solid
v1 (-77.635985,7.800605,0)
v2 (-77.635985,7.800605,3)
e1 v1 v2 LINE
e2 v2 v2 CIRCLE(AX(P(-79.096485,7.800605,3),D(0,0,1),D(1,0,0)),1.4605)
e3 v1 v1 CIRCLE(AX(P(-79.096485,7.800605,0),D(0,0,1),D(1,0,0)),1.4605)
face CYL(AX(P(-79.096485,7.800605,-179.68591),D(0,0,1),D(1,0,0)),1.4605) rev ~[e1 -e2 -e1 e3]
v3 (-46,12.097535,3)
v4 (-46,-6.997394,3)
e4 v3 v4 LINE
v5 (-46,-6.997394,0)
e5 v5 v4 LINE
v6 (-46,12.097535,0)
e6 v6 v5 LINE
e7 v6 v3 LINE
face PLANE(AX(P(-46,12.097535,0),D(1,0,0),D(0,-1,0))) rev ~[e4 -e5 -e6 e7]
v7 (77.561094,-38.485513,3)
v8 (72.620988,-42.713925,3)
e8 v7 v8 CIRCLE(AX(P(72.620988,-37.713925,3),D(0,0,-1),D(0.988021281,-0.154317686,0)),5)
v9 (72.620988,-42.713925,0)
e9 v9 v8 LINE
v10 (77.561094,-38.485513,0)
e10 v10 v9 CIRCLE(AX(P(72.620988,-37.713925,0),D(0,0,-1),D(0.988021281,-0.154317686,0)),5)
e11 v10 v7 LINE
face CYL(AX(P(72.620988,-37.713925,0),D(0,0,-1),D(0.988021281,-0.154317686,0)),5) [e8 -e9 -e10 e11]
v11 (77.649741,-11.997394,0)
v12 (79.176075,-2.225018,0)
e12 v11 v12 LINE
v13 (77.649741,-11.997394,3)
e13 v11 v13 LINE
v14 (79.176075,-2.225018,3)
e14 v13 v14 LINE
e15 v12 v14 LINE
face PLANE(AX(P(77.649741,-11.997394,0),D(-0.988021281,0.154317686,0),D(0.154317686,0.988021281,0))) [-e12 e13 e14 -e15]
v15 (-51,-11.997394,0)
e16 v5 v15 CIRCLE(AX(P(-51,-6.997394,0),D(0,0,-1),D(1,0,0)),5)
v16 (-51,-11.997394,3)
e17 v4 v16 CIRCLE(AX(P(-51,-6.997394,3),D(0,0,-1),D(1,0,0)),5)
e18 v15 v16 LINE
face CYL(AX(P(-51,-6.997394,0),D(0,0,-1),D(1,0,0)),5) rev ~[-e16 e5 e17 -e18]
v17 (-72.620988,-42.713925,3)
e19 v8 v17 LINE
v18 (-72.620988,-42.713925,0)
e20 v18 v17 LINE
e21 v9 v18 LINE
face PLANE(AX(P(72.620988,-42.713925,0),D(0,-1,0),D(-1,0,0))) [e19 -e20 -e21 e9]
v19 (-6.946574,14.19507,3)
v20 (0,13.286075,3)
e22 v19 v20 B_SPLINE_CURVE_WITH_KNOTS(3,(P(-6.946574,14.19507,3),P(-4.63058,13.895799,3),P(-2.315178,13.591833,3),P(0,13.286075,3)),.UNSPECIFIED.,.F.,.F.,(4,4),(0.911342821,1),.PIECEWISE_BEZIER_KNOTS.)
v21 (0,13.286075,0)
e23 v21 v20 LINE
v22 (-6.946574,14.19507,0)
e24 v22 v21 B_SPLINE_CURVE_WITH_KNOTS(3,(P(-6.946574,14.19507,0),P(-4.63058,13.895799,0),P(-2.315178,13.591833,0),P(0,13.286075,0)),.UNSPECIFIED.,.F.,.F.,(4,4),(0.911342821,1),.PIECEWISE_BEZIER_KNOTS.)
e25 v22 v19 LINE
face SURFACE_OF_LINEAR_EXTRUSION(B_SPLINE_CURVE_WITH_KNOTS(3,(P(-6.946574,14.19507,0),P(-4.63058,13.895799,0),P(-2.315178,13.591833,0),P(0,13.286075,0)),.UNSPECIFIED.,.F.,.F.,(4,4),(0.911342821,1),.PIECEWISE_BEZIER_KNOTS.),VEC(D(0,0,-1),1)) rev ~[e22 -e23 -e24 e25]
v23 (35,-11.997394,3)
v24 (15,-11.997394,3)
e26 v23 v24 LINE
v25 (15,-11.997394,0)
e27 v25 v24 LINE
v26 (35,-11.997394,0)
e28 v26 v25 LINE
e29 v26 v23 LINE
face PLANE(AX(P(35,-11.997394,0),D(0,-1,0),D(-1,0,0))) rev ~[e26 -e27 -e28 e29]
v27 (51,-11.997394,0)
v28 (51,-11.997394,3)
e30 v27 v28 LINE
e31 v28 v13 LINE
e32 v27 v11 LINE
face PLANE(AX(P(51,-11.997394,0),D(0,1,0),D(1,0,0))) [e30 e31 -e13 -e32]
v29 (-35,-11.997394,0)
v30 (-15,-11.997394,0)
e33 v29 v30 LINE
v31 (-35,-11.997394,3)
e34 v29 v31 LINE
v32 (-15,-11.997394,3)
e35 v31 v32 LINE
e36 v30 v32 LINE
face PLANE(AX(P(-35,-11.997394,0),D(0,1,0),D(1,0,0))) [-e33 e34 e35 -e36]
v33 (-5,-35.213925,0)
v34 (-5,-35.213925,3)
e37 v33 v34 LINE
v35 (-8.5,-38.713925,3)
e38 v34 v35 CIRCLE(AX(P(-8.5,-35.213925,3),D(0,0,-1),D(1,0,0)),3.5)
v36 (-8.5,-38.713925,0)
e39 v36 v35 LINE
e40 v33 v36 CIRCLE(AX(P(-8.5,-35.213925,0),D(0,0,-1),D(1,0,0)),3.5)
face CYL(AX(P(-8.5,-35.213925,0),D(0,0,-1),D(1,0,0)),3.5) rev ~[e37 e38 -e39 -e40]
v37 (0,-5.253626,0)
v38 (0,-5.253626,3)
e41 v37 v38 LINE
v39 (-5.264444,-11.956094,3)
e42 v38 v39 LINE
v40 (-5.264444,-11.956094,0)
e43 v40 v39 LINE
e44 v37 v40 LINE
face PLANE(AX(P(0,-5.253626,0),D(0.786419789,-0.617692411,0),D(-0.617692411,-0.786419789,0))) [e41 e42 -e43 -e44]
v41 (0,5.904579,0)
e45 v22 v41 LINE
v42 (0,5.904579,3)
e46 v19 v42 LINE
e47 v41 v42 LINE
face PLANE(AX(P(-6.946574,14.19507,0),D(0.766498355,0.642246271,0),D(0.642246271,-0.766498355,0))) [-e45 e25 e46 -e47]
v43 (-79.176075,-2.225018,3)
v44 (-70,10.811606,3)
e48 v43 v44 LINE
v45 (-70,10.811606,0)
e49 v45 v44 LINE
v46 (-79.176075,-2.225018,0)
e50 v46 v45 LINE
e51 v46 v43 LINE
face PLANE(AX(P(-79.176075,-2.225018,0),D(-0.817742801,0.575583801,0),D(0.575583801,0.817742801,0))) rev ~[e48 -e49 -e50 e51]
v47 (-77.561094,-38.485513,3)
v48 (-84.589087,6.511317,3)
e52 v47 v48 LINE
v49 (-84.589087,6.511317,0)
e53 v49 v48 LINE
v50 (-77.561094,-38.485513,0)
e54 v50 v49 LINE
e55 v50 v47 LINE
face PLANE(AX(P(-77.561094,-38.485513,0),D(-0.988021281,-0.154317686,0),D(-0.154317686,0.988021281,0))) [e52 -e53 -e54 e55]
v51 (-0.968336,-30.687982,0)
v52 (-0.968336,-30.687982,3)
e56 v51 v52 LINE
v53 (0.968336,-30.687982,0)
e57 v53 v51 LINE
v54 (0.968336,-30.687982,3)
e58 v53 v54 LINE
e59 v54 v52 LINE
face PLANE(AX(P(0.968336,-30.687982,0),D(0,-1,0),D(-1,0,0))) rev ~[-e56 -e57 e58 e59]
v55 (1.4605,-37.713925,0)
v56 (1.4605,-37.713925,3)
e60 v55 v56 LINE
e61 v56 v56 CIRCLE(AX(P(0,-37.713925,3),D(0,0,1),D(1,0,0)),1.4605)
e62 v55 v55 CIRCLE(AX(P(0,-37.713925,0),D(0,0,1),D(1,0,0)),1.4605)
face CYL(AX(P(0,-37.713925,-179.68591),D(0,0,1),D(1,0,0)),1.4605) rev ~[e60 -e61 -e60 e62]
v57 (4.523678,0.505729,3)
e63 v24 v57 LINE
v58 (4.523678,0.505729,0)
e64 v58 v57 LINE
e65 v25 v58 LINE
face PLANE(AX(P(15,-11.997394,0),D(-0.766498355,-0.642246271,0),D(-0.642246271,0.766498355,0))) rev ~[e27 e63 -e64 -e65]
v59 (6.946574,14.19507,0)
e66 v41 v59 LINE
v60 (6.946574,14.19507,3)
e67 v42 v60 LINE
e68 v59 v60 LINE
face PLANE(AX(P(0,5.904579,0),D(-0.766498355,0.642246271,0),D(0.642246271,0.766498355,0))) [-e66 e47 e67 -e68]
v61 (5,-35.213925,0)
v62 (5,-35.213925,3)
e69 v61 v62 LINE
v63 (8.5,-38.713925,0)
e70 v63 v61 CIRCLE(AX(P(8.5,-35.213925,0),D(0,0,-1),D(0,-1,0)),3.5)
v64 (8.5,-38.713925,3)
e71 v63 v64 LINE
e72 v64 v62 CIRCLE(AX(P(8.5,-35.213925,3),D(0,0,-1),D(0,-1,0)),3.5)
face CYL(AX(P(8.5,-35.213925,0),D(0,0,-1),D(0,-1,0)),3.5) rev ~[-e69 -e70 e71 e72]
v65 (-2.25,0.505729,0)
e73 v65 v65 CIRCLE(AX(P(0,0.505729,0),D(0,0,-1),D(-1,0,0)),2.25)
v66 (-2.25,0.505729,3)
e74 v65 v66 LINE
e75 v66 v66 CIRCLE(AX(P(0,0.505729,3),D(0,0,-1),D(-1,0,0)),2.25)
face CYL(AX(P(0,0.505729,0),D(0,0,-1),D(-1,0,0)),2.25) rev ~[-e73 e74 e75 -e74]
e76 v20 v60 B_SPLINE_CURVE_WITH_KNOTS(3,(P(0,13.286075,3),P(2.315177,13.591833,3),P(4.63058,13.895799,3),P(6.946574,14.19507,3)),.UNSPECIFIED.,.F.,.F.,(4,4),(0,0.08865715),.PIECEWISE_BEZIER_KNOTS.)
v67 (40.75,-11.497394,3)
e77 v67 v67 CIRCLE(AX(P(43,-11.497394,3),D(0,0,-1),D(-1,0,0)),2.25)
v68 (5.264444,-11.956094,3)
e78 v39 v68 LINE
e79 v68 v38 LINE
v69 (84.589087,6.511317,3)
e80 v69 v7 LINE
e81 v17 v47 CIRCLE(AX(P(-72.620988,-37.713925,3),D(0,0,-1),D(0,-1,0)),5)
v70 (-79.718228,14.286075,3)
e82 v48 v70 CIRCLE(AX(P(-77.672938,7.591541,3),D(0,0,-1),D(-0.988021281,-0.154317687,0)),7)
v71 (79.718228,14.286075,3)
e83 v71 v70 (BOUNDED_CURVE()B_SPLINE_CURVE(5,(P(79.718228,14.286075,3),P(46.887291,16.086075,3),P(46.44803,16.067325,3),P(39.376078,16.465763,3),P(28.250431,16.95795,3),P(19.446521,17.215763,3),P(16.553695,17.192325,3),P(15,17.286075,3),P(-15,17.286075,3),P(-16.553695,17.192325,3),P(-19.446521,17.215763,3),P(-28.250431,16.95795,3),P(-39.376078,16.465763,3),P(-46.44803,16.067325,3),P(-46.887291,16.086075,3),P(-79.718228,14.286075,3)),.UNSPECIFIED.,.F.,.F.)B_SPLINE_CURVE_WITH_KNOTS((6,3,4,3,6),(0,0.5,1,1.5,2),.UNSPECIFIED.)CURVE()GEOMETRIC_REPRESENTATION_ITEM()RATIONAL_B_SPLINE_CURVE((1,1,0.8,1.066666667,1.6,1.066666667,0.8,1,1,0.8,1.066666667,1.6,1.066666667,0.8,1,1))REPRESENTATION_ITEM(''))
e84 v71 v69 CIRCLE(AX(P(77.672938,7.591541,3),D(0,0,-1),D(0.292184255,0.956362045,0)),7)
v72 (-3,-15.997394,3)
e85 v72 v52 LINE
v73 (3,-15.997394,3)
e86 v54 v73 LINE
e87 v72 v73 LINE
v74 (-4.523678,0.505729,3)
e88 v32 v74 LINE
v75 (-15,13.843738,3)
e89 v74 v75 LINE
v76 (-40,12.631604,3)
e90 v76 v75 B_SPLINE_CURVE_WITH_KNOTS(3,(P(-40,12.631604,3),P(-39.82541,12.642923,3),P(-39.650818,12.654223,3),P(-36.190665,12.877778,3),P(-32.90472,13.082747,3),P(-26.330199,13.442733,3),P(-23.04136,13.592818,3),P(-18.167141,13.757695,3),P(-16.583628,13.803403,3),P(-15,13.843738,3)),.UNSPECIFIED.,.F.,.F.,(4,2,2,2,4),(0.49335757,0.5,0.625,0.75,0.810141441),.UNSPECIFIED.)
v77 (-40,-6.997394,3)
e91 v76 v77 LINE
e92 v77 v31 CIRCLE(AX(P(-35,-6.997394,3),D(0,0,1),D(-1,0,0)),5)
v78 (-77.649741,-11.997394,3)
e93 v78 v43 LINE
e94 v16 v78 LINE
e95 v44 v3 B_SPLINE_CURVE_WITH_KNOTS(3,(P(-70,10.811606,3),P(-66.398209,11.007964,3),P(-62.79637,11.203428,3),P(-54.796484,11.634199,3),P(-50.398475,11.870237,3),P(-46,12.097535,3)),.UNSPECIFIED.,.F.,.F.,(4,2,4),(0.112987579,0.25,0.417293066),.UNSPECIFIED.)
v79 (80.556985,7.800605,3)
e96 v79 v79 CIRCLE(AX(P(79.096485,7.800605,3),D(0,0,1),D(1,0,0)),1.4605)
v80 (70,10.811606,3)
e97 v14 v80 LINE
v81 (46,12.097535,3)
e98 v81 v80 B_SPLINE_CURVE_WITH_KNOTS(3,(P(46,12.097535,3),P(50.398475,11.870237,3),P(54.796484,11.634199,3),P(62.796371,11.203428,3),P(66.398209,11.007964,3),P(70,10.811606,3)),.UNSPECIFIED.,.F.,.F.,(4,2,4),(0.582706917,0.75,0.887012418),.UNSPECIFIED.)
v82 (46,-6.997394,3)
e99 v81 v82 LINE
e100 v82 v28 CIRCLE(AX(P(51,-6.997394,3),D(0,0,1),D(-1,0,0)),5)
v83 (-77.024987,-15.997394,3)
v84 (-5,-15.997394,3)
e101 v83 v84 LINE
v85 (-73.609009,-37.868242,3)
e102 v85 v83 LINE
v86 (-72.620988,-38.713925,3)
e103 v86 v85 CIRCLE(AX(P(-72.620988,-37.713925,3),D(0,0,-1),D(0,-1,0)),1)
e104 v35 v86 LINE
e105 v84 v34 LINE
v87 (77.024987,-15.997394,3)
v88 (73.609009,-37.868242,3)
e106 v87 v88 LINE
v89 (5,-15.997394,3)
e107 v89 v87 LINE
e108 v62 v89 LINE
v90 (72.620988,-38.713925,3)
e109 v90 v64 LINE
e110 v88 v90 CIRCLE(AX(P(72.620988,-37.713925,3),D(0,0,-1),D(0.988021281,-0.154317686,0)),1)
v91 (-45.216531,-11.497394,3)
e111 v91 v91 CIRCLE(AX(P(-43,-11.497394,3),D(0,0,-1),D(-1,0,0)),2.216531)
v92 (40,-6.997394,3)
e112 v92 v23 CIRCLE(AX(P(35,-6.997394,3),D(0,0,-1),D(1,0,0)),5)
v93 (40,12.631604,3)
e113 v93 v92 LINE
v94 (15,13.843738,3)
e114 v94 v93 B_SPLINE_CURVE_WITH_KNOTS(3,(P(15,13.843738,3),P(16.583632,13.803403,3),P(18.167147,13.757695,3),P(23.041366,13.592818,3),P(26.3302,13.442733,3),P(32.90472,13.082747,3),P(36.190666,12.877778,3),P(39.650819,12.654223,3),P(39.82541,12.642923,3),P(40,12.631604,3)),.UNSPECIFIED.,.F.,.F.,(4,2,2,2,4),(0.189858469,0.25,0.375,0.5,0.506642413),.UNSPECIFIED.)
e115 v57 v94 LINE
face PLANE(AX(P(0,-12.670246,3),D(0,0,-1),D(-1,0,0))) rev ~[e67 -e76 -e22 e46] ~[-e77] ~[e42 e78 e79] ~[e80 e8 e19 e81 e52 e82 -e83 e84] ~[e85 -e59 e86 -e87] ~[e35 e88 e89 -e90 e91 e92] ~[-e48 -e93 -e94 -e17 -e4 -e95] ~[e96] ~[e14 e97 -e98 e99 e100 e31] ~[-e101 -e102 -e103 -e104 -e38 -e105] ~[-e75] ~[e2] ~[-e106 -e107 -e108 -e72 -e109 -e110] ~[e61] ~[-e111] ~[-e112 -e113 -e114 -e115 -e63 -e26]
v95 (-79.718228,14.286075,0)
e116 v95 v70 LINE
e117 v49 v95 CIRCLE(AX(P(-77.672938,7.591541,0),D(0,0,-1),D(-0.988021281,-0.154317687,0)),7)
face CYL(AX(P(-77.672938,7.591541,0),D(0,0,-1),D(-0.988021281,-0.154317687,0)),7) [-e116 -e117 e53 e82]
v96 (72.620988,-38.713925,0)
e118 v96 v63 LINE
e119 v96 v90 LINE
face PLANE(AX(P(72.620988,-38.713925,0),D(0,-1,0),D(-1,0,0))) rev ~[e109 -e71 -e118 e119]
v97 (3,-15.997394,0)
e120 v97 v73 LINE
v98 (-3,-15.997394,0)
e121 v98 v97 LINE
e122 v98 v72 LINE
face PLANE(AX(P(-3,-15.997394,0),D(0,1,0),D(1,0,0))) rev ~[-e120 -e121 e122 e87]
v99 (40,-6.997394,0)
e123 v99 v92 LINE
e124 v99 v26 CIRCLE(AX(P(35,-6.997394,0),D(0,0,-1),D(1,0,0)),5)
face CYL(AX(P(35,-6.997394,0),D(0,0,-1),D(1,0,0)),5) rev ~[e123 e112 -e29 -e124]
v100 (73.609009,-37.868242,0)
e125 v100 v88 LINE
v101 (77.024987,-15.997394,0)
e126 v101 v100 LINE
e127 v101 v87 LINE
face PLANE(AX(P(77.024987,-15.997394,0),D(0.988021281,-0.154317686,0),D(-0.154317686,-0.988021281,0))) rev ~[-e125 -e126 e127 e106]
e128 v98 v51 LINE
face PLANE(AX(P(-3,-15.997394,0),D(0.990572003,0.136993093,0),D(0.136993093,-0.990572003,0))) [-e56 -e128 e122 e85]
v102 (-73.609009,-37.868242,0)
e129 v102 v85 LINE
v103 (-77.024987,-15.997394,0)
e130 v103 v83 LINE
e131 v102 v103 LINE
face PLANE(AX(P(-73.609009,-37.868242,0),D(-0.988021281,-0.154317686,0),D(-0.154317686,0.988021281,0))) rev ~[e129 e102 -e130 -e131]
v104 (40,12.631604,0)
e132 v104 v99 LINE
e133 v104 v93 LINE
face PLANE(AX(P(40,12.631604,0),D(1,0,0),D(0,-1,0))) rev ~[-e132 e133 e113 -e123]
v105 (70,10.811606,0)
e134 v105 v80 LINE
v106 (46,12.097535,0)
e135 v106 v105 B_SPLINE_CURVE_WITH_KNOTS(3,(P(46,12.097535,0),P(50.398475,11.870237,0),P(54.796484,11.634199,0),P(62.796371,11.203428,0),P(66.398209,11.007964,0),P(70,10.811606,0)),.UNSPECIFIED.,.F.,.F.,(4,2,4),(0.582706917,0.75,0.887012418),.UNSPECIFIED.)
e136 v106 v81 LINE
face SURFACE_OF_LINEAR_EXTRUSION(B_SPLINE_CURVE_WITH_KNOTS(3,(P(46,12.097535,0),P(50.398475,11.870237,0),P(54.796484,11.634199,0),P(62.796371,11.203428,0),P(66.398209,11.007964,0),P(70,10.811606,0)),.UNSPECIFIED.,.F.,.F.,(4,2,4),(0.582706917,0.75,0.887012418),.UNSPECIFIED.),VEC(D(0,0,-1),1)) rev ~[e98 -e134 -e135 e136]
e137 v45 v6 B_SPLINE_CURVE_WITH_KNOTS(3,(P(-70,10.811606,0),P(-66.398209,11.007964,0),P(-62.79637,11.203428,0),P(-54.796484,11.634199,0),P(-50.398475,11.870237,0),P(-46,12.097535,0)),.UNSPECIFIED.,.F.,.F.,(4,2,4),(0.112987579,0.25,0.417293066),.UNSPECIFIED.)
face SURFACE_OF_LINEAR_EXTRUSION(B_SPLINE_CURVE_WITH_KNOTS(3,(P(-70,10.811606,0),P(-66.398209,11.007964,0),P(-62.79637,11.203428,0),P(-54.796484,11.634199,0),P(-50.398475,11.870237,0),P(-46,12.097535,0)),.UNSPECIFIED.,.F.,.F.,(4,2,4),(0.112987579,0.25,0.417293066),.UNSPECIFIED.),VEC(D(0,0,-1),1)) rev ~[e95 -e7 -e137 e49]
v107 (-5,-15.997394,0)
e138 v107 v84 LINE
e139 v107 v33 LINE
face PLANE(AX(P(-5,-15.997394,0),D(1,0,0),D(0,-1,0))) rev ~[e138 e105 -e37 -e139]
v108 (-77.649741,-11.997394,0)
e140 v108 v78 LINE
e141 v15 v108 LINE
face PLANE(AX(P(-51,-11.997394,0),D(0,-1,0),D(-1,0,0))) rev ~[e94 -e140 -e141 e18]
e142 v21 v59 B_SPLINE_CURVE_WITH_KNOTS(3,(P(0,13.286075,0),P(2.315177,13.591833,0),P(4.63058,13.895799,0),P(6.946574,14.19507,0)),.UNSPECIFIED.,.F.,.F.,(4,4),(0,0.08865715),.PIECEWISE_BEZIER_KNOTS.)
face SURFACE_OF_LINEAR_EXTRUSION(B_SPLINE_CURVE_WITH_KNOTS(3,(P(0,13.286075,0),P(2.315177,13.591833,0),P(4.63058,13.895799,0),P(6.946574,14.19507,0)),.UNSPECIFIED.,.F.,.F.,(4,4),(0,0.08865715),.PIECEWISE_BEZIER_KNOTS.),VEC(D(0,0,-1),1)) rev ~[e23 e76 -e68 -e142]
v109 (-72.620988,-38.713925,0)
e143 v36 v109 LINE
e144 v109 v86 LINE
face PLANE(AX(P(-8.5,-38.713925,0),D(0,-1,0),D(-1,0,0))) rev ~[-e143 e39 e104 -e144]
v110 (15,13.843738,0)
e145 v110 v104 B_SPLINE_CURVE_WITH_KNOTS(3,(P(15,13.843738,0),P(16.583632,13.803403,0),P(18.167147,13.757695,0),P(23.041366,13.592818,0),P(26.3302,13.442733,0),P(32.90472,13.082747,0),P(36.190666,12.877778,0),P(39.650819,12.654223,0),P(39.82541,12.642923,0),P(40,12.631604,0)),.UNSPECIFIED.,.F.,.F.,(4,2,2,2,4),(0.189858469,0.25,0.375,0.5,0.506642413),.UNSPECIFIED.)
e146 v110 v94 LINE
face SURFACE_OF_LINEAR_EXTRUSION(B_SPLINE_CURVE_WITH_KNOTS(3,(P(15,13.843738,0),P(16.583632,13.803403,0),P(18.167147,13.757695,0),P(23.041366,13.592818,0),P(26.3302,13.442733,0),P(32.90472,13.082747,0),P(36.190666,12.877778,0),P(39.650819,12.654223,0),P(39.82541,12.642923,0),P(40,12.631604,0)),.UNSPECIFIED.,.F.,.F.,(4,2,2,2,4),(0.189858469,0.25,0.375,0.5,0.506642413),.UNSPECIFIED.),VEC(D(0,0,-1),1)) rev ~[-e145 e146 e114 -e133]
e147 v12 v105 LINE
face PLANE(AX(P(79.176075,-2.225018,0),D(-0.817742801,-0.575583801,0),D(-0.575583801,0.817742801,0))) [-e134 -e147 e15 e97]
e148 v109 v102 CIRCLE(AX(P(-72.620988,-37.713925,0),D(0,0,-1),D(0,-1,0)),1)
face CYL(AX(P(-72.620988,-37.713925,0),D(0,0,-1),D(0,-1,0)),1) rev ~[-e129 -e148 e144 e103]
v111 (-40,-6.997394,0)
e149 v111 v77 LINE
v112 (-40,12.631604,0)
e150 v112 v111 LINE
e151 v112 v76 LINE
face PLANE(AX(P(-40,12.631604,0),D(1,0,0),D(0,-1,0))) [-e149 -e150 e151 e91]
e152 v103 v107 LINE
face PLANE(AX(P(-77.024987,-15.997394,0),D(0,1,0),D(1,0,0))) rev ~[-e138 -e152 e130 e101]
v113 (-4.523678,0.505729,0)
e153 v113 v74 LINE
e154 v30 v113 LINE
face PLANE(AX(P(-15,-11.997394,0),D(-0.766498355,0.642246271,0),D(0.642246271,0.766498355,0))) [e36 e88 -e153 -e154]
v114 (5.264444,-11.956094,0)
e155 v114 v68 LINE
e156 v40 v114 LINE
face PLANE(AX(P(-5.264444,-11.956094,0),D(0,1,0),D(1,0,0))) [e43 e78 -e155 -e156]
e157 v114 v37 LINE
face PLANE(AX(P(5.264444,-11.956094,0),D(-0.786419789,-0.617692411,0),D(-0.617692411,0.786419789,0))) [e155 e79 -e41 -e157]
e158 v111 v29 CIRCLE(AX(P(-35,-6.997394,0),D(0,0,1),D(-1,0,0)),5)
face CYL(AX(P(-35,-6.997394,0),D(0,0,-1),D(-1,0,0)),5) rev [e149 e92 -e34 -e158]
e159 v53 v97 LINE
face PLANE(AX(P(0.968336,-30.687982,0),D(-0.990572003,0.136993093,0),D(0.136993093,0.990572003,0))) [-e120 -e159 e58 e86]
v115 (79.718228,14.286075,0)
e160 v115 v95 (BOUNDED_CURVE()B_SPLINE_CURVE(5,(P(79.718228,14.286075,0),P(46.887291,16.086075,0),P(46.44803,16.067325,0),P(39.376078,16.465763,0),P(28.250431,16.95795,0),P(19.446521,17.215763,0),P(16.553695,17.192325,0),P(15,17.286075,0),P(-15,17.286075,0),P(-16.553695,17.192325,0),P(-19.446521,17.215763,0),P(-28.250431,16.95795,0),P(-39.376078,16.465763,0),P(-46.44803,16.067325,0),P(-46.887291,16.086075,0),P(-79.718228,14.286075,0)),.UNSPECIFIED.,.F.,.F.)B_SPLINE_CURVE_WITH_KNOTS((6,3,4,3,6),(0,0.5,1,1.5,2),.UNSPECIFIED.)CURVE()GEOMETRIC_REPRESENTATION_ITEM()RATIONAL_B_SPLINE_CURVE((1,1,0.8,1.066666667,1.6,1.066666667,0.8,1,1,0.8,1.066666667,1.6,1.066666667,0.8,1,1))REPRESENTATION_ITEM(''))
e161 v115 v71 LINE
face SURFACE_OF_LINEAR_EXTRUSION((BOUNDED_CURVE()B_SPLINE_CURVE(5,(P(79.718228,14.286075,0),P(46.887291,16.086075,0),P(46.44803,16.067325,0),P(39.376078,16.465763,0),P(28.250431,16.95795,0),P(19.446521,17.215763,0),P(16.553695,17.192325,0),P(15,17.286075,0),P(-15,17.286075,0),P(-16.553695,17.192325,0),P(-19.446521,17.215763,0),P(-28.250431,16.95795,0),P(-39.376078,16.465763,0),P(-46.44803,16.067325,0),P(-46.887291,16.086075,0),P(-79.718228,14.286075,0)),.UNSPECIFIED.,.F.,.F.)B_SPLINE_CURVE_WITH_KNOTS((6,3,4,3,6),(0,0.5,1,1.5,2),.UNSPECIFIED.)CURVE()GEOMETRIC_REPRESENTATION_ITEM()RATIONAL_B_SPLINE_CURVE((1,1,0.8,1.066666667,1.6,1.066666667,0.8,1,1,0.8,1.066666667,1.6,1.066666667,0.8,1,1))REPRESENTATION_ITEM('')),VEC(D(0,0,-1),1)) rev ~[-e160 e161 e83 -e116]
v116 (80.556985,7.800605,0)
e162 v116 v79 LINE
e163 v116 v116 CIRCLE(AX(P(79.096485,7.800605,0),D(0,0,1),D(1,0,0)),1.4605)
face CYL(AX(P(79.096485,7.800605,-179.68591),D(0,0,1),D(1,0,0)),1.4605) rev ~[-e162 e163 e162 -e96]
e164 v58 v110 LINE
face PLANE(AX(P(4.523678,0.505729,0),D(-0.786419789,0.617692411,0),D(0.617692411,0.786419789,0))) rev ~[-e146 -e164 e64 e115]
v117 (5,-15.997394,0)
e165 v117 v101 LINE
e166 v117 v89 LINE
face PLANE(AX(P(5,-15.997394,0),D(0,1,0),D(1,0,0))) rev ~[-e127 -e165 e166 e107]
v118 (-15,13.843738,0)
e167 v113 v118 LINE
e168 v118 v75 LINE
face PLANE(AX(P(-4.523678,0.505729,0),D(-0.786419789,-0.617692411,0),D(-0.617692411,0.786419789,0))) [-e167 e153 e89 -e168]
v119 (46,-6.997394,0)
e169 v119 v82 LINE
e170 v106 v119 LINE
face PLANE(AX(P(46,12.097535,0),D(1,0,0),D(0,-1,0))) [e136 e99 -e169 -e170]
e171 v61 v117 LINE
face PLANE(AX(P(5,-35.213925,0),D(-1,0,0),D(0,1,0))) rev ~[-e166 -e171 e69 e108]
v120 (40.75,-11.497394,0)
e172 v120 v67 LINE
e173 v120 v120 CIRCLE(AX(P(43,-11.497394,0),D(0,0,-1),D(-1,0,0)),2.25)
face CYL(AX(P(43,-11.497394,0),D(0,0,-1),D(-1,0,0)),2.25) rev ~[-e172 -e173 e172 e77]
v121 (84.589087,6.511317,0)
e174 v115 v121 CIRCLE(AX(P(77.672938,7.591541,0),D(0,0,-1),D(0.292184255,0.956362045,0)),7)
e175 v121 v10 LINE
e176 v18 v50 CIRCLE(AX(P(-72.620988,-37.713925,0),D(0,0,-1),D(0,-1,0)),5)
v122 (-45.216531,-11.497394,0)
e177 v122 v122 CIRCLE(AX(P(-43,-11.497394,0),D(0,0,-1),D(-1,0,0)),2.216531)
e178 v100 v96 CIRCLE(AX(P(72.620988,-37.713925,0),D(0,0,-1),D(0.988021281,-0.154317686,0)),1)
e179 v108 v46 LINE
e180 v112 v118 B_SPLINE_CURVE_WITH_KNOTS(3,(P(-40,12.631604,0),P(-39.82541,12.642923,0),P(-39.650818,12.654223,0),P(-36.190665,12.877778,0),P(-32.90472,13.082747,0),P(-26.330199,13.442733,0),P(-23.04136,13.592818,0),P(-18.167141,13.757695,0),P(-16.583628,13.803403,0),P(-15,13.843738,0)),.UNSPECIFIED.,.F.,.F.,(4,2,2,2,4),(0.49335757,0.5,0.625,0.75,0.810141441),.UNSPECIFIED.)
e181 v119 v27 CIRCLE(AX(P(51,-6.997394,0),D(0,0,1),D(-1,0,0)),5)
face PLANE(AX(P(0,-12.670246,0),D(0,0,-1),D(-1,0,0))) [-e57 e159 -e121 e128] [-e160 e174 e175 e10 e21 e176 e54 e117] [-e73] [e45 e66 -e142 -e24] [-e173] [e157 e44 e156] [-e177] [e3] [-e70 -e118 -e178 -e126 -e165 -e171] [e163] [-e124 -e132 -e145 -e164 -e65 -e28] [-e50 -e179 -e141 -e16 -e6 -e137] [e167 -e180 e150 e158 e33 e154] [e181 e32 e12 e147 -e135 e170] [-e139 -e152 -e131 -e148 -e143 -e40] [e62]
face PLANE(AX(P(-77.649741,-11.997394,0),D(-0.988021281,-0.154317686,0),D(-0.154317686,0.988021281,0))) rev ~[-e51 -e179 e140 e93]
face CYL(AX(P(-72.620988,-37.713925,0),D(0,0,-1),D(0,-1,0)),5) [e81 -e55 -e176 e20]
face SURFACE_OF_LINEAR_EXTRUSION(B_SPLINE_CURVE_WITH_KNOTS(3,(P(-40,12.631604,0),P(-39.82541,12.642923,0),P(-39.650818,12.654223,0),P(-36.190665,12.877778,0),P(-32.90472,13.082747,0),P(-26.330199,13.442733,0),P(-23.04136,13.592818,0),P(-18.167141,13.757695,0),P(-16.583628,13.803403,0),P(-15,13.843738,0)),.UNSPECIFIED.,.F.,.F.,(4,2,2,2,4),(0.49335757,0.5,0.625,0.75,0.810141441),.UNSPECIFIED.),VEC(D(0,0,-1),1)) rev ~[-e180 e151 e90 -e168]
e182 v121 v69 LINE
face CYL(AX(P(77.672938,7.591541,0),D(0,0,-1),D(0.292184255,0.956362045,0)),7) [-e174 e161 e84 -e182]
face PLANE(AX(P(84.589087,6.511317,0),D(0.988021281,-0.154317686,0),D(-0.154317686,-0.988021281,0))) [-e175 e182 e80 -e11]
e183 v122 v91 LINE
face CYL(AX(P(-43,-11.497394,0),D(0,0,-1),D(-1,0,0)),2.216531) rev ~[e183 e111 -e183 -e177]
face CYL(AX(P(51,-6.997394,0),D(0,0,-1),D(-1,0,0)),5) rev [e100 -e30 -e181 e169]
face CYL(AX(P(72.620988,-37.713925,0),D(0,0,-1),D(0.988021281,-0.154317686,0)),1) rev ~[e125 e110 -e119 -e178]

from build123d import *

# Parameters (mm, degrees)
SALIENTE_EXTRUIR3_DEPTH     = 3
CROQUIS10_R                 = 2.21653071
CROQUIS10_R_2               = 2.25
CORTAR_EXTRUIR2_DEPTH       = 3
TALADRO_DE_MARGEN_PARA_32_D = 2.921
TALADRO_DE_MARGEN_PARA_33_D = 2.921


with BuildPart() as part:
    # Croquis1 → Saliente-Extruir3 (new body)
    with BuildSketch(Plane.XY):
        with BuildLine():
            Line((72.6209879, -42.713924632), (-72.6209879, -42.713924632))
            ThreePointArc((-72.6209879, -42.713924632), (-75.872299777, -41.512473181), (-77.561094305, -38.485513064))
            Line((-77.561094305, -38.485513064), (-84.58908741, 6.511317248))
            ThreePointArc((-84.58908741, 6.511317248), (-83.604933224, 11.307915351), (-79.718228228, 14.286075368))
            add(Edge.make_bspline(
                [(-79.718228228, 14.286075368), (-25, 17.286075368), (0, 17.286075368)],
                knots=[0, 0, 0, 1, 1, 1], degree=2, weights=[1, 3, 1]))
            add(Edge.make_bspline(
                [(79.718228228, 14.286075368), (25, 17.286075368), (0, 17.286075368)],
                knots=[0, 0, 0, 1, 1, 1], degree=2, weights=[1, 3, 1]))
            ThreePointArc((79.718228228, 14.286075368), (83.604933224, 11.307915351), (84.58908741, 6.511317248))
            Line((84.58908741, 6.511317248), (77.561094305, -38.485513064))
            ThreePointArc((77.561094305, -38.485513064), (75.872299777, -41.512473181), (72.6209879, -42.713924632))
        make_face()
    extrude(amount=SALIENTE_EXTRUIR3_DEPTH)

    # Croquis10 → Cortar-Extruir2 (cut)
    with BuildSketch(Plane(origin=(0, 0, 0), x_dir=(-1, 0, 0), z_dir=(0, 0, -1))):
        with Locations((43, -11.497393921)):
            Circle(CROQUIS10_R)
        with Locations((-43, -11.497393921)):
            Circle(CROQUIS10_R_2)
        with Locations((0, 0.505728571)):
            Circle(CROQUIS10_R_2)
        with BuildLine():
            Line((-79.176075372, -2.225018285), (-70, 10.811605693))
            add(Edge.make_bspline(
                [(-46, 12.09753452), (-50.398475085, 11.870236703), (-54.796484112, 11.634198791), (-62.796370665, 11.203428332), (-66.398209188, 11.007964378), (-70, 10.811605693)],
                knots=[0.582706917, 0.582706917, 0.582706917, 0.582706917, 0.75, 0.75, 0.887012418, 0.887012418, 0.887012418, 0.887012418], degree=3))
            Line((-46, 12.09753452), (-46, -6.997393921))
            ThreePointArc((-46, -6.997393921), (-47.464466094, -10.532927827), (-51, -11.997393921))
            Line((-51, -11.997393921), (-77.649741448, -11.997393921))
            Line((-77.649741448, -11.997393921), (-79.176075372, -2.225018285))
        make_face()
        with BuildLine():
            Line((79.176075372, -2.225018285), (70, 10.811605693))
            add(Edge.make_bspline(
                [(70, 10.811605693), (66.398209009, 11.007964388), (62.796370304, 11.203428352), (54.796483872, 11.634198804), (50.398474815, 11.870236716), (46, 12.097534519)],
                knots=[0.112987579, 0.112987579, 0.112987579, 0.112987579, 0.25, 0.25, 0.417293066, 0.417293066, 0.417293066, 0.417293066], degree=3))
            Line((46, 12.097534519), (46, -6.997393921))
            ThreePointArc((46, -6.997393921), (47.464466094, -10.532927827), (51, -11.997393921))
            Line((51, -11.997393921), (77.649741448, -11.997393921))
            Line((77.649741448, -11.997393921), (79.176075372, -2.225018285))
        make_face()
        with BuildLine():
            Line((-72.6209879, -38.713924632), (-8.5, -38.713924632))
            ThreePointArc((-8.5, -38.713924632), (-6.025126266, -37.688798366), (-5, -35.213924632))
            Line((-5, -35.213924632), (-5, -34.713924632))
            Line((-5, -34.713924632), (-5, -15.997393921))
            Line((-5, -15.997393921), (-15, -15.997393921))
            Line((-15, -15.997393921), (-77.024986944, -15.997393921))
            Line((-77.024986944, -15.997393921), (-73.609009181, -37.868242318))
            ThreePointArc((-73.609009181, -37.868242318), (-73.271250275, -38.473634342), (-72.6209879, -38.713924632))
        make_face()
        with BuildLine():
            Line((73.609009181, -37.868242318), (77.024986944, -15.997393921))
            Line((77.024986944, -15.997393921), (15, -15.997393921))
            Line((15, -15.997393921), (5, -15.997393921))
            Line((5, -15.997393921), (5, -34.713924632))
            Line((5, -34.713924632), (5, -35.213924632))
            ThreePointArc((5, -35.213924632), (6.025126266, -37.688798366), (8.5, -38.713924632))
            Line((8.5, -38.713924632), (72.6209879, -38.713924632))
            ThreePointArc((72.6209879, -38.713924632), (73.271250275, -38.473634342), (73.609009181, -37.868242318))
        make_face()
        with BuildLine():
            Line((35, -11.997393921), (15, -11.997393921))
            Line((15, -11.997393921), (4.523677721, 0.505728571))
            Line((4.523677721, 0.505728571), (15, 13.84373792))
            add(Edge.make_bspline(
                [(40, 12.63160375), (39.825409867, 12.642923331), (39.650818398, 12.654223436), (36.190665267, 12.877777744), (32.904720181, 13.082746887), (26.330198769, 13.442733043), (23.041359598, 13.592817894), (18.167140708, 13.757695148), (16.583628119, 13.803403068), (15, 13.84373792)],
                knots=[0.49335757, 0.49335757, 0.49335757, 0.49335757, 0.5, 0.5, 0.625, 0.625, 0.75, 0.75, 0.810141441, 0.810141441, 0.810141441, 0.810141441], degree=3))
            Line((40, 12.63160375), (40, -6.997393921))
            ThreePointArc((40, -6.997393921), (38.535533906, -10.532927827), (35, -11.997393921))
        make_face()
        Polygon((-0.968336382, -30.687982025), (-3, -15.997393921), (0, -15.997393921), (3, -15.997393921), (0.968336382, -30.687982025), (0, -30.687982025), align=None)
        Polygon((5.264444392, -11.956093505), (-5.264444392, -11.956093505), (0, -5.253626108), align=None)
        with BuildLine():
            Line((-40, 12.631603781), (-40, -6.997393921))
            ThreePointArc((-40, -6.997393921), (-38.535533906, -10.532927827), (-35, -11.997393921))
            Line((-35, -11.997393921), (-15, -11.997393921))
            Line((-15, -11.997393921), (-4.523677721, 0.505728571))
            Line((-4.523677721, 0.505728571), (-15, 13.84373792))
            add(Edge.make_bspline(
                [(-15, 13.84373792), (-16.58363169, 13.803402978), (-18.167147458, 13.757694961), (-23.041366217, 13.59281763), (-26.330199865, 13.442733005), (-32.904719736, 13.082746935), (-36.190666356, 12.877777704), (-39.650819263, 12.654223411), (-39.8254103, 12.642923334), (-40, 12.631603781)],
                knots=[0.189858469, 0.189858469, 0.189858469, 0.189858469, 0.25, 0.25, 0.375, 0.375, 0.5, 0.5, 0.506642413, 0.506642413, 0.506642413, 0.506642413], degree=3))
        make_face()
        with BuildLine():
            Line((0, 5.904578964), (-6.946573607, 14.195070454))
            add(Edge.make_bspline(
                [(0, 13.286075368), (-2.315177484, 13.591832913), (-4.630580268, 13.895799248), (-6.946573607, 14.195070454)],
                knots=[0, 0, 0, 0, 0.08865715, 0.08865715, 0.08865715, 0.08865715], degree=3))
            add(Edge.make_bspline(
                [(6.946573603, 14.195070449), (4.63058034, 13.895799254), (2.315177538, 13.591832918), (0, 13.286075368)],
                knots=[0.911342821, 0.911342821, 0.911342821, 0.911342821, 1, 1, 1, 1], degree=3))
            Line((6.946573603, 14.195070449), (0, 5.904578964))
        make_face()
    extrude(amount=-CORTAR_EXTRUIR2_DEPTH, mode=Mode.SUBTRACT)

    # Taladro de margen para #32 (through all)
    with Locations(Plane(origin=(79.096485455, 7.800604527, 0), x_dir=(-1, 0, 0), z_dir=(0, 0, -1))):
        with Locations((0, 0), (158.19297091, 0)):
            Hole(TALADRO_DE_MARGEN_PARA_32_D / 2)

    # Taladro de margen para #33 (through all)
    with Locations(Plane(origin=(0, -37.713924632, 0), x_dir=(-1, 0, 0), z_dir=(0, 0, -1))):
        with Locations((0, 0)):
            Hole(TALADRO_DE_MARGEN_PARA_33_D / 2)


solid = part.part
